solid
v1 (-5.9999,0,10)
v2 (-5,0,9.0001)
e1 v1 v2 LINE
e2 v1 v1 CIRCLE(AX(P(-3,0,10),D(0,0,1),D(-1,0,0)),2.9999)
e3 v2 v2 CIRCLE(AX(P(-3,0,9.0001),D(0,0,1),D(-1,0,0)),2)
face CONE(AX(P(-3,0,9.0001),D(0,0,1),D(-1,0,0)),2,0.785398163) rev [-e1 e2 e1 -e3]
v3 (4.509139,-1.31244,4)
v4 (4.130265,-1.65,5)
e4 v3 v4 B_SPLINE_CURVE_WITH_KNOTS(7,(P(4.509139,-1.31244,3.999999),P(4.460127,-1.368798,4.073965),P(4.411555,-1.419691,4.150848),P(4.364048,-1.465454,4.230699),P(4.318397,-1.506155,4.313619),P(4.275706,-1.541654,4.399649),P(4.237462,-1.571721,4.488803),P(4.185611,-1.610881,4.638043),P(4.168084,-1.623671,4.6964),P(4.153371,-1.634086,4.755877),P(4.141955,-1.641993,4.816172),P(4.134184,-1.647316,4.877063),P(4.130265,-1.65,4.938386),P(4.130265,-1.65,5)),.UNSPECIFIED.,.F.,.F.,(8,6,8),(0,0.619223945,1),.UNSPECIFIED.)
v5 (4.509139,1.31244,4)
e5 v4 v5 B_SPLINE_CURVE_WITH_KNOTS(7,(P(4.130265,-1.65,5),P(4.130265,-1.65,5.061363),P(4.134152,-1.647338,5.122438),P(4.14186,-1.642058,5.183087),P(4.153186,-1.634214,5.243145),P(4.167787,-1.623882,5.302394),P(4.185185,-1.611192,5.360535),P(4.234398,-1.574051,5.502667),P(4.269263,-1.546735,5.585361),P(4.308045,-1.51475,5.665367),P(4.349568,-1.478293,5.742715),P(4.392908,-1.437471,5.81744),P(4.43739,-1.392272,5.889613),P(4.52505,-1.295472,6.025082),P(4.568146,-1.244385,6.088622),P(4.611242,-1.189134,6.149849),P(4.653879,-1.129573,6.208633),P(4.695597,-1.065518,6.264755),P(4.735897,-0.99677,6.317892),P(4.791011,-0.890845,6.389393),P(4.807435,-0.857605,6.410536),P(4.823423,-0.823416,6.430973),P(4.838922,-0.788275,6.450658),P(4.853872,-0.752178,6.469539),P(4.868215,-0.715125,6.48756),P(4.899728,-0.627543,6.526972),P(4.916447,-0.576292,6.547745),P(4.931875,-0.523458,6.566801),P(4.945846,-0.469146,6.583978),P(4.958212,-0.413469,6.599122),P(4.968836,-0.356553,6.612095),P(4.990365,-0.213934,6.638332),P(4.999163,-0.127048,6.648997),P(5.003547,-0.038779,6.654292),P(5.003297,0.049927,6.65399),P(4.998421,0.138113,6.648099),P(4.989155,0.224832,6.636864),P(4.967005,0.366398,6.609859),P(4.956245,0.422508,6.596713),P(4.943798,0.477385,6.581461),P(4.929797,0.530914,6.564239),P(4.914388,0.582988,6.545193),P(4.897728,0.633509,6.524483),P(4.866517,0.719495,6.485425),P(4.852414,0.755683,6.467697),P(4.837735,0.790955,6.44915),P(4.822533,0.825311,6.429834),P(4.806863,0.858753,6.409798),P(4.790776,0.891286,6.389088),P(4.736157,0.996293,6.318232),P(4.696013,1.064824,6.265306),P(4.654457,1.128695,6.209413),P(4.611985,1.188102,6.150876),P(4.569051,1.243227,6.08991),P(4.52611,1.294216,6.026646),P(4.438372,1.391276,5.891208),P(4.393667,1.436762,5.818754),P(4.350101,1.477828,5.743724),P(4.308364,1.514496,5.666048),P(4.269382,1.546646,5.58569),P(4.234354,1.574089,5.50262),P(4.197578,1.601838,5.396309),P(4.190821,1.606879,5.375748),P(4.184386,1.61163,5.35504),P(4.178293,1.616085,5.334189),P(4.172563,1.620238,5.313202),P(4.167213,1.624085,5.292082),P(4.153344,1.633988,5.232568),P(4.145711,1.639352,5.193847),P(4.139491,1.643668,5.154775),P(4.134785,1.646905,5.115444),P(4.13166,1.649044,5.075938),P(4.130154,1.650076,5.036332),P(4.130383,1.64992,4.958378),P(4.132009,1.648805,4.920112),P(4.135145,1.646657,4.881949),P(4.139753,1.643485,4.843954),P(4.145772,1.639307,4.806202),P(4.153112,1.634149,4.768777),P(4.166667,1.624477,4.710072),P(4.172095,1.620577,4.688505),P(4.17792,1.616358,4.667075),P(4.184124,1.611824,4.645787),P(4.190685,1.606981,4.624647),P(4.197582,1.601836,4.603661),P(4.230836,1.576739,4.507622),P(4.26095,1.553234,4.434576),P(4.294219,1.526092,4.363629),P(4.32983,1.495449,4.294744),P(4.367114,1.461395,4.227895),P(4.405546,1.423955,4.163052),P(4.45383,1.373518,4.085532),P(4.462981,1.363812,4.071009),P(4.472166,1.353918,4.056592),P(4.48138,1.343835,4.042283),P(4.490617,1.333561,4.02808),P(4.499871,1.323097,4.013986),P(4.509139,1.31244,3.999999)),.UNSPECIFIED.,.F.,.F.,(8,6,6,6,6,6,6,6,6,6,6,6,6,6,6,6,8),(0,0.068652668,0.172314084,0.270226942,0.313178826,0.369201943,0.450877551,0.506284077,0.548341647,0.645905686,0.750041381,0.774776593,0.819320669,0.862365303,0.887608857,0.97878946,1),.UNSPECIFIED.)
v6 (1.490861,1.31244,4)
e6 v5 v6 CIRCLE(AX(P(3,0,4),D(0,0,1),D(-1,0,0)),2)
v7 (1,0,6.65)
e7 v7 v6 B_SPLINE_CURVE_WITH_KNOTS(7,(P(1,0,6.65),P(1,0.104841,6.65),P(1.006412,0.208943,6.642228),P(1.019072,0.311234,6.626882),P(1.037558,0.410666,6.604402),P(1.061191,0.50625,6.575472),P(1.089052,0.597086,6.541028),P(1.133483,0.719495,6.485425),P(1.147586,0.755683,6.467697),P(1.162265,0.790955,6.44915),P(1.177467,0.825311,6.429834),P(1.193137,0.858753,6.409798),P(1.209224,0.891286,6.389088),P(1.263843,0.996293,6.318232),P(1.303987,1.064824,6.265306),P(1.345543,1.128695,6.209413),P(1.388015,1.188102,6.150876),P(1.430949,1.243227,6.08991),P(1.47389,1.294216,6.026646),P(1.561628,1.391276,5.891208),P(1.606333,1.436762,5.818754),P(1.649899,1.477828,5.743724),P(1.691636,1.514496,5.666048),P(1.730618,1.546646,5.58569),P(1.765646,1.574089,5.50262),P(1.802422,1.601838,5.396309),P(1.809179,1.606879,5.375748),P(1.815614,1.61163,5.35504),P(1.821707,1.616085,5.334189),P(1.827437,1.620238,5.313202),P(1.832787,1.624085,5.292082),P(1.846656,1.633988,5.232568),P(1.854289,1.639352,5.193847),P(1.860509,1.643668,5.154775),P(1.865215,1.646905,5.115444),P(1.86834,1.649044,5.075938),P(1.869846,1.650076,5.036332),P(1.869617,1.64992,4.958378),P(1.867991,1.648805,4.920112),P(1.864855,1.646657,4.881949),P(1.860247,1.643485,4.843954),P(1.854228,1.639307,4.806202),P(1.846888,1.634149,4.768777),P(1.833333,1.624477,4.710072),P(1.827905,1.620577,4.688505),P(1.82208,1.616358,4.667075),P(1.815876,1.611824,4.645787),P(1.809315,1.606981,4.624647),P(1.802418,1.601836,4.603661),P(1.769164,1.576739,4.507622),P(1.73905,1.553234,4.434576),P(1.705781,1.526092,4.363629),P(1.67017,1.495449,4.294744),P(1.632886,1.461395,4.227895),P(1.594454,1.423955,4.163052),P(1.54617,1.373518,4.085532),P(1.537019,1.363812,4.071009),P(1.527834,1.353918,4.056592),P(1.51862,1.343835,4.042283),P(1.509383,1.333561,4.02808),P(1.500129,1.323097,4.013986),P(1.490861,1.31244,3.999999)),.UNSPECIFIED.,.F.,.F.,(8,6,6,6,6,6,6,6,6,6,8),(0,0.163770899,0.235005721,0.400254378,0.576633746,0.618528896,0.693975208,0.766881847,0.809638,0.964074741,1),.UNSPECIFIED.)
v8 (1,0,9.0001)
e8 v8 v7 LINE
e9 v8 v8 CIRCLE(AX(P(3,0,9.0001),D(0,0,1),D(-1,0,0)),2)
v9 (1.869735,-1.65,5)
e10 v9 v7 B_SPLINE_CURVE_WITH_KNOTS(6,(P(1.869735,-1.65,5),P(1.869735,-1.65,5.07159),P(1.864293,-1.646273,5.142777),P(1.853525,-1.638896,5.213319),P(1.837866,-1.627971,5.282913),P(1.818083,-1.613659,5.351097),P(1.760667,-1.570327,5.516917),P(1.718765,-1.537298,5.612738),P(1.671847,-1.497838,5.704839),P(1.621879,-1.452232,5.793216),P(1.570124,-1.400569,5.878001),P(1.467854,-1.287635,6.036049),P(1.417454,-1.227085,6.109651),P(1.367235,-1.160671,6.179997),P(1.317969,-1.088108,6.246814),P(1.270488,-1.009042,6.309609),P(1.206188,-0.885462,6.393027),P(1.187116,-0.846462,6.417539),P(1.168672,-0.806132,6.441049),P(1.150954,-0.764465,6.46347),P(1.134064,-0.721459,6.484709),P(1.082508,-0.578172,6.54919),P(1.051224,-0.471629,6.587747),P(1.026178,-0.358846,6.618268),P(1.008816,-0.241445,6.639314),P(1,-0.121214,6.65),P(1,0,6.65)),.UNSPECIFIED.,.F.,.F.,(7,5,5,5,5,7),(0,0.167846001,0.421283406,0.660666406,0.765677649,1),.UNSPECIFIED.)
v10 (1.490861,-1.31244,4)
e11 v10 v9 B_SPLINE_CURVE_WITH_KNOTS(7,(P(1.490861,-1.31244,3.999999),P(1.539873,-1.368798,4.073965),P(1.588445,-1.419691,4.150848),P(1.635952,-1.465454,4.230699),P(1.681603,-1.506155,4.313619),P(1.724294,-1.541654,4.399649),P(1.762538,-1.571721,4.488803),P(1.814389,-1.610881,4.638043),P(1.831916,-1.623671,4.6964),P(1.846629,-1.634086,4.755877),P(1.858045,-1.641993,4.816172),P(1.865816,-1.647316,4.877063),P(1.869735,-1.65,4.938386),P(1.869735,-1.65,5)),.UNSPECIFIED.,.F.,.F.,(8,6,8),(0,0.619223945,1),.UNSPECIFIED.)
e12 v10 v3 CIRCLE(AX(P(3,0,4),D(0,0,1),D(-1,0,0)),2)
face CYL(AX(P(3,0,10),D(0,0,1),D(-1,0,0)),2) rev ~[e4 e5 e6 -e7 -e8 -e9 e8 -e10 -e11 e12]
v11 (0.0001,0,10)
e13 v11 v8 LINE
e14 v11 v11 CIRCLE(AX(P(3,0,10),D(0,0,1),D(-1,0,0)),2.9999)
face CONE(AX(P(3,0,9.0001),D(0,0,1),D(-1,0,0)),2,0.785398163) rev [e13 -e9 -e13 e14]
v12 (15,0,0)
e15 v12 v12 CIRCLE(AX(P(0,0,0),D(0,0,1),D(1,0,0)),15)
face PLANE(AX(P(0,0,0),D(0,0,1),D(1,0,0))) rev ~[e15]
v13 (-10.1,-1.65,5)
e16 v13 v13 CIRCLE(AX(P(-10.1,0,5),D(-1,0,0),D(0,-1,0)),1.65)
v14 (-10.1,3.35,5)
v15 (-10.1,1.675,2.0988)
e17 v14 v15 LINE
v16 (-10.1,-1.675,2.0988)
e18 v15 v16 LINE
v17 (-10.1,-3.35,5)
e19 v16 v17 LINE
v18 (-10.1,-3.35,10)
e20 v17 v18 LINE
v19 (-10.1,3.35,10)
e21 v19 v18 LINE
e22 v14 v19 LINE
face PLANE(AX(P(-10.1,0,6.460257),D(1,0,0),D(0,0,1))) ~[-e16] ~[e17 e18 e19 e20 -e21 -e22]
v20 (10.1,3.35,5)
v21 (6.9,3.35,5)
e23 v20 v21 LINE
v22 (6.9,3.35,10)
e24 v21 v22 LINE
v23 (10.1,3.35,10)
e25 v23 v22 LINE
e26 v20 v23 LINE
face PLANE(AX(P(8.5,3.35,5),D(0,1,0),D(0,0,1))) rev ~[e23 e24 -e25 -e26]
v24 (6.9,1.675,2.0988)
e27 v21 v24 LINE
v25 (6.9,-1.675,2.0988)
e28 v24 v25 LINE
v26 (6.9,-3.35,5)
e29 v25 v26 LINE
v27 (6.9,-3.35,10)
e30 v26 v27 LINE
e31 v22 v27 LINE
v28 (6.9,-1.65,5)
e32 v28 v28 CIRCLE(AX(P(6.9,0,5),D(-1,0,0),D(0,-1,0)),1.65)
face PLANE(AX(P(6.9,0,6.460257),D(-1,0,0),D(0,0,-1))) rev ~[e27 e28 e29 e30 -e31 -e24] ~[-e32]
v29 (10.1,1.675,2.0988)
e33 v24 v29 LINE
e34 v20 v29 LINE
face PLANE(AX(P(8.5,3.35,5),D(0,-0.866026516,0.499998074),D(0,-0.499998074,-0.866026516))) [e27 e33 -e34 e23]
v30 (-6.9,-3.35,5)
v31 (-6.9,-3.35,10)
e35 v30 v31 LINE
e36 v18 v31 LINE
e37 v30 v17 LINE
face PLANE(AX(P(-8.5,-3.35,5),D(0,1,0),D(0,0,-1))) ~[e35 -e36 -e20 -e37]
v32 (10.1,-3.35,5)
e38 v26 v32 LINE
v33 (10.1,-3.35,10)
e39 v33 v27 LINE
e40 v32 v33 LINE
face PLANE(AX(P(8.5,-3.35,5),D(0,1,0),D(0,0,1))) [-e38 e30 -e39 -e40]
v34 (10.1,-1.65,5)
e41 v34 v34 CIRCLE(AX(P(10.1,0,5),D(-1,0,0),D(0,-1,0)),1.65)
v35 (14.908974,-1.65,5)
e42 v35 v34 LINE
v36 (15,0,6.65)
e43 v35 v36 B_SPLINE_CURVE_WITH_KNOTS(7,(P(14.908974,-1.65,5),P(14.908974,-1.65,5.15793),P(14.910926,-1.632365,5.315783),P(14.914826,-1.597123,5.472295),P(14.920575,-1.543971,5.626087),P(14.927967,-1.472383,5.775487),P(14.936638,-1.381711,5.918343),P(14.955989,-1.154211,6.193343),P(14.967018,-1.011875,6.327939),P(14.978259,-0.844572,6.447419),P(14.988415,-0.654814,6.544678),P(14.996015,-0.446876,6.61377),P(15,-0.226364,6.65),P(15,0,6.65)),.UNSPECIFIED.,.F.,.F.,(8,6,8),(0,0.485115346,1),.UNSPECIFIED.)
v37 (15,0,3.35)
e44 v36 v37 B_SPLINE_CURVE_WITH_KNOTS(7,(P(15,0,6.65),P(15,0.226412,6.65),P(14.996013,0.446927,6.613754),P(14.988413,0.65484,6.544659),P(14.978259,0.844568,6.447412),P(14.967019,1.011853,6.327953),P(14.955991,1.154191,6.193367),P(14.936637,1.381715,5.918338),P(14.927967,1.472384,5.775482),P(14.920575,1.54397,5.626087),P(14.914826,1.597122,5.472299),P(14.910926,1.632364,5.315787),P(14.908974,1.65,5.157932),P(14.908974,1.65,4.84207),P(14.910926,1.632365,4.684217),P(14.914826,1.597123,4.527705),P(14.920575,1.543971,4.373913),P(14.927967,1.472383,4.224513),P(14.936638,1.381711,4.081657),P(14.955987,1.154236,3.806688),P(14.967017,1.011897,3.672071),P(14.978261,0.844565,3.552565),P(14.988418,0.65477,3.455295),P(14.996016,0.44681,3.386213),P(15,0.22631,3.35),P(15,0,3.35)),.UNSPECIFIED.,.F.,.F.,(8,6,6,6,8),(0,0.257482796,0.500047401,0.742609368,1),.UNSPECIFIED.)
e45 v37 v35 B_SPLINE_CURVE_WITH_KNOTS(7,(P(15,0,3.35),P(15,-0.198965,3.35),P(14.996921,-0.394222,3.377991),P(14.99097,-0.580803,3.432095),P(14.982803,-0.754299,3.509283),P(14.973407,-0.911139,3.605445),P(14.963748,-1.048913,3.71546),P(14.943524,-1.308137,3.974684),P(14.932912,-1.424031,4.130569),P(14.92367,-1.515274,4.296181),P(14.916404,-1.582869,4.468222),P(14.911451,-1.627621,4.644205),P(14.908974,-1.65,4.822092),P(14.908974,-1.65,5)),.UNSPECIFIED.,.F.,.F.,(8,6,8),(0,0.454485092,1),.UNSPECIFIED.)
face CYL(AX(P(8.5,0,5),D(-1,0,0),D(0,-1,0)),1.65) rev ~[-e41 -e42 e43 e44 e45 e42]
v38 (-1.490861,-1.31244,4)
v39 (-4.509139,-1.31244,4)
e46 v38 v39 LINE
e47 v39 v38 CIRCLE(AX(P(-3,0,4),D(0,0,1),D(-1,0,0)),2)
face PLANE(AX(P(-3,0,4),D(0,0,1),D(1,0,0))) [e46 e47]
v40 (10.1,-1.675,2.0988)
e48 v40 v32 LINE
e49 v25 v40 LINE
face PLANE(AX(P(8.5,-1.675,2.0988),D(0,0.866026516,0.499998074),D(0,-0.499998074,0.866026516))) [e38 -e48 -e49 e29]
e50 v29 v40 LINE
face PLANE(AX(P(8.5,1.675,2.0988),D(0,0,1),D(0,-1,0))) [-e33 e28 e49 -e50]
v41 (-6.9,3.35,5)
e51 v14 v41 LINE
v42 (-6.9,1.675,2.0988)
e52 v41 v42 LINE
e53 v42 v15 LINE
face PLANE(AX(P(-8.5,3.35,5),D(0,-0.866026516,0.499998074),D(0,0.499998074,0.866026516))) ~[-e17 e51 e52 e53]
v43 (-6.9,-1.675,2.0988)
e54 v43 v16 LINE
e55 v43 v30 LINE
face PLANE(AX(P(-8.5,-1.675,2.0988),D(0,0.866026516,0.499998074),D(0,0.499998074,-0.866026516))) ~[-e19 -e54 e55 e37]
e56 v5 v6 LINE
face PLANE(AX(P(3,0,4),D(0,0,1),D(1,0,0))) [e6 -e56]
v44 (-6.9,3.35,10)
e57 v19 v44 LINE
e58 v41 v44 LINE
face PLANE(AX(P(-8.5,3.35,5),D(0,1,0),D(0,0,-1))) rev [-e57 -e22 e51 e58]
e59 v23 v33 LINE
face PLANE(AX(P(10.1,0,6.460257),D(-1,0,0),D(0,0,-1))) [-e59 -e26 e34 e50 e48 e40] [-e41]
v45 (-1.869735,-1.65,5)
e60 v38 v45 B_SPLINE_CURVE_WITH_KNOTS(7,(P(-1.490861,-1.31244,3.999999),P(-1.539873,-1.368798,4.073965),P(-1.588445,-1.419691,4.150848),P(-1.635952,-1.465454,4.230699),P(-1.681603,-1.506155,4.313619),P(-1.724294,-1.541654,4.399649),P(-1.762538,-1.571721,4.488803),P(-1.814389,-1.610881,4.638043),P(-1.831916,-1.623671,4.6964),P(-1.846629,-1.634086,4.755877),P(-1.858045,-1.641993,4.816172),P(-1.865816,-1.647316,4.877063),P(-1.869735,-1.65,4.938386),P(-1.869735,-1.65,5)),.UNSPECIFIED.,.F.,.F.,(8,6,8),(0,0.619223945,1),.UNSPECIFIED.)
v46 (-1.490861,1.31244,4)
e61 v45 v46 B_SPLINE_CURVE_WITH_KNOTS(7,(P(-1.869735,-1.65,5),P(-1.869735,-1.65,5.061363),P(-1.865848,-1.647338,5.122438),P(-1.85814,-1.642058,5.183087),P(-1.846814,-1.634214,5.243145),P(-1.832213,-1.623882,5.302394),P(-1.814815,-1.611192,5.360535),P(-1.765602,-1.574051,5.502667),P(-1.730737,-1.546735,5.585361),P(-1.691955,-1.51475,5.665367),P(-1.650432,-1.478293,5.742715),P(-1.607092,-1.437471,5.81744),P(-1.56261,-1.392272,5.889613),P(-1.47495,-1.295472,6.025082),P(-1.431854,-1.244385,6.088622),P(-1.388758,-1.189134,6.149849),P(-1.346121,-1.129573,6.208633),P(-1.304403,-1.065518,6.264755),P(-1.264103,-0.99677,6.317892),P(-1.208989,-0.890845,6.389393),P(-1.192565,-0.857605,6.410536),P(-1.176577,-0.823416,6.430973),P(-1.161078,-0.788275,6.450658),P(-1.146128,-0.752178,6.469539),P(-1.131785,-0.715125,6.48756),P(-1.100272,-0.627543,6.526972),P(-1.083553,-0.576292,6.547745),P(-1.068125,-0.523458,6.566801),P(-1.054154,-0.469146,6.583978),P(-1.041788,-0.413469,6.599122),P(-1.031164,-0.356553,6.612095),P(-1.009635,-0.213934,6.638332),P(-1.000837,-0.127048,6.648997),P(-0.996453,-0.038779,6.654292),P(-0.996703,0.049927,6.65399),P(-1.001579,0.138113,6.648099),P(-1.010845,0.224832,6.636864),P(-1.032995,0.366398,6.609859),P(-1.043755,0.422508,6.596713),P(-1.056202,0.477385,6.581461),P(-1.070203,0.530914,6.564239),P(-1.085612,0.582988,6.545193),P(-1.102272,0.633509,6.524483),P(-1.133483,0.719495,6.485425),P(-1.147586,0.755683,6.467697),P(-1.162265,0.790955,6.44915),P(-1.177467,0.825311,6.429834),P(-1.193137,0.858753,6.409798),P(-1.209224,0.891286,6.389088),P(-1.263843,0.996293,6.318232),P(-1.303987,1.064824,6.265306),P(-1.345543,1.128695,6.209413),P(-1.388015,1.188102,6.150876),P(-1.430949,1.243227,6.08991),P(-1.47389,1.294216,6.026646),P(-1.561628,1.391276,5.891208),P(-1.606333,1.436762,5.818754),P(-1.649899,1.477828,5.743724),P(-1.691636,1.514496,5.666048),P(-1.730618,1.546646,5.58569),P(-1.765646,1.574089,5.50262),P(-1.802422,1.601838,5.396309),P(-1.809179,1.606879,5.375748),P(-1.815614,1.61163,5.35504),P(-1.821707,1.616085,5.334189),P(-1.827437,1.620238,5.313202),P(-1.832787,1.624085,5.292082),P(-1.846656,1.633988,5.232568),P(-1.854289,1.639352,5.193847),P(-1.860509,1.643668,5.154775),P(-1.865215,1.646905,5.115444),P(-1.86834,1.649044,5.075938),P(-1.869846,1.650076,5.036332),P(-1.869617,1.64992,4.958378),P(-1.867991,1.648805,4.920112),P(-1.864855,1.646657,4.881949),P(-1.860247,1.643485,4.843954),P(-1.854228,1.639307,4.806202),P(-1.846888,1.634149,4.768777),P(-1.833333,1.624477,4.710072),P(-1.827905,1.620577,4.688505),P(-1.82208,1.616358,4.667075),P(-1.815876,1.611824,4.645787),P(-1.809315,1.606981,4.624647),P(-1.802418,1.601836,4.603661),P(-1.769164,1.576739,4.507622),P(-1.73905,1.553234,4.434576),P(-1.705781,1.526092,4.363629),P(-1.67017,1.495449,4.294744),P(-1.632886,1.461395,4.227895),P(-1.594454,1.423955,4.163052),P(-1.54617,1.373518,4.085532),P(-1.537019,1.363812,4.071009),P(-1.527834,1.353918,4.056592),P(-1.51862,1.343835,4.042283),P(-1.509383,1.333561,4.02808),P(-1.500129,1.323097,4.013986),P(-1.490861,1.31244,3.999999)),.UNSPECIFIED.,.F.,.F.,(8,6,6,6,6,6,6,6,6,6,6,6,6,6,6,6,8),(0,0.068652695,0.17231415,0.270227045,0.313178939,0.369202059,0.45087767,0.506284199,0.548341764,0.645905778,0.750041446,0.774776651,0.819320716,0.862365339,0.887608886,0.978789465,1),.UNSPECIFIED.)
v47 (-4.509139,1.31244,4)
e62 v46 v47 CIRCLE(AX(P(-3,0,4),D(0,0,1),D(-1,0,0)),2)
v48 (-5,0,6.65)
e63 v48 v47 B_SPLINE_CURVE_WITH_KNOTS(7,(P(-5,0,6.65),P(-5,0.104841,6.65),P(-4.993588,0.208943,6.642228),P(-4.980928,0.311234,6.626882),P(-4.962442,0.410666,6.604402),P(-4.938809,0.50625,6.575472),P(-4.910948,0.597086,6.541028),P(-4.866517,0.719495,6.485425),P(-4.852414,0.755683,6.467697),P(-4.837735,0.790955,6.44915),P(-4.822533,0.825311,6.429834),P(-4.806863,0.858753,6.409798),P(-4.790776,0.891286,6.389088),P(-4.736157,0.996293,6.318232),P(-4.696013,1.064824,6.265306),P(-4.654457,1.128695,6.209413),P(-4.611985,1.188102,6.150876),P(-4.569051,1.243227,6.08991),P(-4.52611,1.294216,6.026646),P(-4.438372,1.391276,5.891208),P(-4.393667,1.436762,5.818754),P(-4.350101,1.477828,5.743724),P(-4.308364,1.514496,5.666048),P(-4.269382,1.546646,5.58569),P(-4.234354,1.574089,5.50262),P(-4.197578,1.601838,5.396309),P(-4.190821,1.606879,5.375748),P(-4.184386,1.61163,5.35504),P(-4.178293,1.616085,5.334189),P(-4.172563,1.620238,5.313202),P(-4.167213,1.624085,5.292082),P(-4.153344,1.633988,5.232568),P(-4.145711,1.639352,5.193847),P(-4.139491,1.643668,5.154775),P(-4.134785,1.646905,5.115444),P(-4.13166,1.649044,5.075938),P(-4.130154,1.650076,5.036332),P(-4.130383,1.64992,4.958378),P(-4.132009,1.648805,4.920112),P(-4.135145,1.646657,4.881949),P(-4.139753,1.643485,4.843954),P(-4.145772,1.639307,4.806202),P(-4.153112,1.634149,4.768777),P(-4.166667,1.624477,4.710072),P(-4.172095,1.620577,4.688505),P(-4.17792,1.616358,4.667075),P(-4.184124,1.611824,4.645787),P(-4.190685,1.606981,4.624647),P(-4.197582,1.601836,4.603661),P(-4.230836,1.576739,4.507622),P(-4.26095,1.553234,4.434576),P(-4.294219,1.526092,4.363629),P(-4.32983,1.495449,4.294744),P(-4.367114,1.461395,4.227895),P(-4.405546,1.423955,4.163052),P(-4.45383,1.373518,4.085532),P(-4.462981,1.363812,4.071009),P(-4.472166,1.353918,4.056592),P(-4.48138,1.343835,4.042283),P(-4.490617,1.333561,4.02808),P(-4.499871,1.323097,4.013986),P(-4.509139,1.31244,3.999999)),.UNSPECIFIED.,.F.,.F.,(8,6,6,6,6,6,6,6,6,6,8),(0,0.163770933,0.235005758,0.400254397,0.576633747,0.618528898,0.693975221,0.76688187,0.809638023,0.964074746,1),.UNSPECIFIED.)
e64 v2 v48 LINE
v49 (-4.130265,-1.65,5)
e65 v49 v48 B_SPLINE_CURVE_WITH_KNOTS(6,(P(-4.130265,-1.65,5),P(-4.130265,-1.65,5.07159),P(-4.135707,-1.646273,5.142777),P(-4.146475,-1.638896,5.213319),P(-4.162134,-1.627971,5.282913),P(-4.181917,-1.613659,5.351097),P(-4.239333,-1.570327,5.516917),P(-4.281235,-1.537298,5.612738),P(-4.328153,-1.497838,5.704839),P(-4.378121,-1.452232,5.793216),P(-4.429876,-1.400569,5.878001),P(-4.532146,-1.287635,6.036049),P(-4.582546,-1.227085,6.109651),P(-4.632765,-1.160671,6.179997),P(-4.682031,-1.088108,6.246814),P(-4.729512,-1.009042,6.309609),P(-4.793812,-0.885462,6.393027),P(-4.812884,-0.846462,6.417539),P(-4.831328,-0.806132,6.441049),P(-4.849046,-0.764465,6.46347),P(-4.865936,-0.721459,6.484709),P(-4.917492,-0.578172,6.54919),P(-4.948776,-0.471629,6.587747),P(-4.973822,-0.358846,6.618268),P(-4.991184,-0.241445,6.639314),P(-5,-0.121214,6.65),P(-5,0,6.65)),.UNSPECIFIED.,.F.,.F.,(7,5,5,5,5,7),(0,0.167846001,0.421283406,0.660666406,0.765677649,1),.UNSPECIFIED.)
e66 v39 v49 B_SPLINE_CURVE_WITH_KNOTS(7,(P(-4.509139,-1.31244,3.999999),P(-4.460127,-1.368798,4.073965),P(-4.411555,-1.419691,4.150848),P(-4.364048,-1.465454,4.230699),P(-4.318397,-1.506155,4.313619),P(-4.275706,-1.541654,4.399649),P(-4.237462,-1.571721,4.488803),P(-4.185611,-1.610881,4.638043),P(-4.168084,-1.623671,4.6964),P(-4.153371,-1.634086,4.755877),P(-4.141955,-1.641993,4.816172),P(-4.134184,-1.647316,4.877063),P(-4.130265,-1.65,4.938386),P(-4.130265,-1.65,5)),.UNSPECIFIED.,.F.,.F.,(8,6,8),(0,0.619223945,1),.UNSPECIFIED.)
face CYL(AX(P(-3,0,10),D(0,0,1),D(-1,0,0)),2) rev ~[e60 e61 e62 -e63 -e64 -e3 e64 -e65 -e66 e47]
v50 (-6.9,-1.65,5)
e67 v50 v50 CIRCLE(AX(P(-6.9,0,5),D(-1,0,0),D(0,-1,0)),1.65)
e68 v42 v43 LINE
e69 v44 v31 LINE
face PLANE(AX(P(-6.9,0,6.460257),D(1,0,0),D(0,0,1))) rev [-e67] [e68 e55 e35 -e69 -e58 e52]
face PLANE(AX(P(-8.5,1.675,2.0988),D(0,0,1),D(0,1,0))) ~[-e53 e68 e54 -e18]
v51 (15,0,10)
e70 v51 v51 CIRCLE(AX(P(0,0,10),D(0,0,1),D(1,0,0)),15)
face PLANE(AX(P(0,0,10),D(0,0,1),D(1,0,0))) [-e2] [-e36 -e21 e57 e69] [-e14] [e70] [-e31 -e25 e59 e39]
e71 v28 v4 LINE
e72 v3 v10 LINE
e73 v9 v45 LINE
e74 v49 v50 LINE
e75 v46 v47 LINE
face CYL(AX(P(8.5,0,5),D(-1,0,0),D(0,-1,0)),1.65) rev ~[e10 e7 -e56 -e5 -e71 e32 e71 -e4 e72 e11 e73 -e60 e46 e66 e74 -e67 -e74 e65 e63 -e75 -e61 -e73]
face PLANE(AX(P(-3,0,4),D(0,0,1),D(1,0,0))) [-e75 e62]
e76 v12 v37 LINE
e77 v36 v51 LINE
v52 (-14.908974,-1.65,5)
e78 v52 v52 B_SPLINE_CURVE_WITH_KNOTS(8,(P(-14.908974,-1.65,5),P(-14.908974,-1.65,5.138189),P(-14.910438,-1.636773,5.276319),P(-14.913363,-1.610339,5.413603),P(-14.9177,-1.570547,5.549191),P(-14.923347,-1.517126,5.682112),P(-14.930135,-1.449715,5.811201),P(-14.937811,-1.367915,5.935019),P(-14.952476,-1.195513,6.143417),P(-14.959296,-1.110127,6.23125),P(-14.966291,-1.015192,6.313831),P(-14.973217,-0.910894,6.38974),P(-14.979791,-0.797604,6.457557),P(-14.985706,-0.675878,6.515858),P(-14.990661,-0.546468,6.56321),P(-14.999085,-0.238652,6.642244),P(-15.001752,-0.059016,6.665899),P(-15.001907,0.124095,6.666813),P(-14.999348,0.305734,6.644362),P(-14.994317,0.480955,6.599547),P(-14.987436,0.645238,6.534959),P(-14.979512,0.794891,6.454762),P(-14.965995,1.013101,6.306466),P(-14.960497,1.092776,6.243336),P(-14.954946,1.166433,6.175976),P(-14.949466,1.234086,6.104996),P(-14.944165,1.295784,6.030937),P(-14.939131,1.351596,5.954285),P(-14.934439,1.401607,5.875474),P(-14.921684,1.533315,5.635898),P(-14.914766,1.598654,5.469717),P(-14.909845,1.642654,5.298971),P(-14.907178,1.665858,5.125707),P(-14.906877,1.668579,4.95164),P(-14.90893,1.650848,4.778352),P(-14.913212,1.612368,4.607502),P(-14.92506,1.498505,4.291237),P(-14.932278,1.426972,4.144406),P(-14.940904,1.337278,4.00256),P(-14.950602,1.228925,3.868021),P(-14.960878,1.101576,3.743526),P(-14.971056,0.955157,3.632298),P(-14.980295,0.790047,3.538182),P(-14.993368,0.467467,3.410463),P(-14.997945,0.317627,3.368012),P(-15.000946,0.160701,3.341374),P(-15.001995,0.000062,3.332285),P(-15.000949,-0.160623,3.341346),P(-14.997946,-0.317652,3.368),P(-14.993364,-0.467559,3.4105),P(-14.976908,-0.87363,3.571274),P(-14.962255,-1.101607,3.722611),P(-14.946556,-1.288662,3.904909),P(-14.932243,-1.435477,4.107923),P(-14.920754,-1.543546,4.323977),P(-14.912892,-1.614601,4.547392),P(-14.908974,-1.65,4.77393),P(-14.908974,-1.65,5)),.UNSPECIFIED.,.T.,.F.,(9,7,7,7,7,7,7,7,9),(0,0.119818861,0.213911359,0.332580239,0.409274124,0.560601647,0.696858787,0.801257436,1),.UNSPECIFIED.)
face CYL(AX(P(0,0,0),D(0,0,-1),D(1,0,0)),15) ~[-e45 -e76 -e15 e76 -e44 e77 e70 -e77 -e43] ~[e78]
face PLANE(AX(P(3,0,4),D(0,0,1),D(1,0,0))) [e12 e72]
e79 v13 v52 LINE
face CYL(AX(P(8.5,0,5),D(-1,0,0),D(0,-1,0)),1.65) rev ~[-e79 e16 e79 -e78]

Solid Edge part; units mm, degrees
sketch "Sketch1" plane through (0, 0, 0) normal (0, 0, 1) x (1, 0, 0)
  circle A0 centre (0, 0) radius 15
extrude "ExtrudedProtrusion_1" add sketch "Sketch1" along normal blind 10
sketch "Sketch2" plane through (8.5, 0, 0) normal (-1, 0, 0) x (0, -1, 0)
  line L0 (3.35, 5) -> (3.35, 10)
  line L1 (-3.35, 10) -> (3.35, 10)
  line L2 (-3.35, 5) -> (-3.35, 10)
  line L3 (-3.35, 5) -> (-1.675, 2.0988)
  line L4 (-1.675, 2.0988) -> (1.675, 2.0988)
  line L5 (1.675, 2.0988) -> (3.35, 5)
  circle A0 centre (0, 5) radius 1.65
  dimension "D1" = 6.7
  dimension "D2" = 5
  dimension "D3" = 3.3
extrude "ExtrudedCutout_1" cut sketch "Sketch2" along normal mid plane 3.2
mirror "Mirror1" about plane through (0, 0, 0) normal (-1, 0, 0) of "ExtrudedCutout_1"
sketch "Sketch3" plane through (8.5, 0, 0) normal (-1, 0, 0) x (0, -1, 0)
  circle A0 centre (0, 5) radius 1.65
extrude "Cutout1" cut sketch "Sketch3" against normal through all and the other way through all
sketch "Sketch4" plane through (0, 0, 10) normal (0, 0, 1) x (-1, 0, 0)
  circle A0 centre (-3, 0) radius 2
  circle A1 centre (3, 0) radius 2
  dimension "D1" = 2
  dimension "D2" = 12
  dimension "D3" = 12
  dimension "D4" = 2
  dimension "D5" = 3
extrude "ExtrudedCutout_3" cut sketch "Sketch4" against normal blind 6
chamfer "Chamfer_3" distance 1 angle 45 2 edges at (-1, 0, 10) (5, 0, 10)
